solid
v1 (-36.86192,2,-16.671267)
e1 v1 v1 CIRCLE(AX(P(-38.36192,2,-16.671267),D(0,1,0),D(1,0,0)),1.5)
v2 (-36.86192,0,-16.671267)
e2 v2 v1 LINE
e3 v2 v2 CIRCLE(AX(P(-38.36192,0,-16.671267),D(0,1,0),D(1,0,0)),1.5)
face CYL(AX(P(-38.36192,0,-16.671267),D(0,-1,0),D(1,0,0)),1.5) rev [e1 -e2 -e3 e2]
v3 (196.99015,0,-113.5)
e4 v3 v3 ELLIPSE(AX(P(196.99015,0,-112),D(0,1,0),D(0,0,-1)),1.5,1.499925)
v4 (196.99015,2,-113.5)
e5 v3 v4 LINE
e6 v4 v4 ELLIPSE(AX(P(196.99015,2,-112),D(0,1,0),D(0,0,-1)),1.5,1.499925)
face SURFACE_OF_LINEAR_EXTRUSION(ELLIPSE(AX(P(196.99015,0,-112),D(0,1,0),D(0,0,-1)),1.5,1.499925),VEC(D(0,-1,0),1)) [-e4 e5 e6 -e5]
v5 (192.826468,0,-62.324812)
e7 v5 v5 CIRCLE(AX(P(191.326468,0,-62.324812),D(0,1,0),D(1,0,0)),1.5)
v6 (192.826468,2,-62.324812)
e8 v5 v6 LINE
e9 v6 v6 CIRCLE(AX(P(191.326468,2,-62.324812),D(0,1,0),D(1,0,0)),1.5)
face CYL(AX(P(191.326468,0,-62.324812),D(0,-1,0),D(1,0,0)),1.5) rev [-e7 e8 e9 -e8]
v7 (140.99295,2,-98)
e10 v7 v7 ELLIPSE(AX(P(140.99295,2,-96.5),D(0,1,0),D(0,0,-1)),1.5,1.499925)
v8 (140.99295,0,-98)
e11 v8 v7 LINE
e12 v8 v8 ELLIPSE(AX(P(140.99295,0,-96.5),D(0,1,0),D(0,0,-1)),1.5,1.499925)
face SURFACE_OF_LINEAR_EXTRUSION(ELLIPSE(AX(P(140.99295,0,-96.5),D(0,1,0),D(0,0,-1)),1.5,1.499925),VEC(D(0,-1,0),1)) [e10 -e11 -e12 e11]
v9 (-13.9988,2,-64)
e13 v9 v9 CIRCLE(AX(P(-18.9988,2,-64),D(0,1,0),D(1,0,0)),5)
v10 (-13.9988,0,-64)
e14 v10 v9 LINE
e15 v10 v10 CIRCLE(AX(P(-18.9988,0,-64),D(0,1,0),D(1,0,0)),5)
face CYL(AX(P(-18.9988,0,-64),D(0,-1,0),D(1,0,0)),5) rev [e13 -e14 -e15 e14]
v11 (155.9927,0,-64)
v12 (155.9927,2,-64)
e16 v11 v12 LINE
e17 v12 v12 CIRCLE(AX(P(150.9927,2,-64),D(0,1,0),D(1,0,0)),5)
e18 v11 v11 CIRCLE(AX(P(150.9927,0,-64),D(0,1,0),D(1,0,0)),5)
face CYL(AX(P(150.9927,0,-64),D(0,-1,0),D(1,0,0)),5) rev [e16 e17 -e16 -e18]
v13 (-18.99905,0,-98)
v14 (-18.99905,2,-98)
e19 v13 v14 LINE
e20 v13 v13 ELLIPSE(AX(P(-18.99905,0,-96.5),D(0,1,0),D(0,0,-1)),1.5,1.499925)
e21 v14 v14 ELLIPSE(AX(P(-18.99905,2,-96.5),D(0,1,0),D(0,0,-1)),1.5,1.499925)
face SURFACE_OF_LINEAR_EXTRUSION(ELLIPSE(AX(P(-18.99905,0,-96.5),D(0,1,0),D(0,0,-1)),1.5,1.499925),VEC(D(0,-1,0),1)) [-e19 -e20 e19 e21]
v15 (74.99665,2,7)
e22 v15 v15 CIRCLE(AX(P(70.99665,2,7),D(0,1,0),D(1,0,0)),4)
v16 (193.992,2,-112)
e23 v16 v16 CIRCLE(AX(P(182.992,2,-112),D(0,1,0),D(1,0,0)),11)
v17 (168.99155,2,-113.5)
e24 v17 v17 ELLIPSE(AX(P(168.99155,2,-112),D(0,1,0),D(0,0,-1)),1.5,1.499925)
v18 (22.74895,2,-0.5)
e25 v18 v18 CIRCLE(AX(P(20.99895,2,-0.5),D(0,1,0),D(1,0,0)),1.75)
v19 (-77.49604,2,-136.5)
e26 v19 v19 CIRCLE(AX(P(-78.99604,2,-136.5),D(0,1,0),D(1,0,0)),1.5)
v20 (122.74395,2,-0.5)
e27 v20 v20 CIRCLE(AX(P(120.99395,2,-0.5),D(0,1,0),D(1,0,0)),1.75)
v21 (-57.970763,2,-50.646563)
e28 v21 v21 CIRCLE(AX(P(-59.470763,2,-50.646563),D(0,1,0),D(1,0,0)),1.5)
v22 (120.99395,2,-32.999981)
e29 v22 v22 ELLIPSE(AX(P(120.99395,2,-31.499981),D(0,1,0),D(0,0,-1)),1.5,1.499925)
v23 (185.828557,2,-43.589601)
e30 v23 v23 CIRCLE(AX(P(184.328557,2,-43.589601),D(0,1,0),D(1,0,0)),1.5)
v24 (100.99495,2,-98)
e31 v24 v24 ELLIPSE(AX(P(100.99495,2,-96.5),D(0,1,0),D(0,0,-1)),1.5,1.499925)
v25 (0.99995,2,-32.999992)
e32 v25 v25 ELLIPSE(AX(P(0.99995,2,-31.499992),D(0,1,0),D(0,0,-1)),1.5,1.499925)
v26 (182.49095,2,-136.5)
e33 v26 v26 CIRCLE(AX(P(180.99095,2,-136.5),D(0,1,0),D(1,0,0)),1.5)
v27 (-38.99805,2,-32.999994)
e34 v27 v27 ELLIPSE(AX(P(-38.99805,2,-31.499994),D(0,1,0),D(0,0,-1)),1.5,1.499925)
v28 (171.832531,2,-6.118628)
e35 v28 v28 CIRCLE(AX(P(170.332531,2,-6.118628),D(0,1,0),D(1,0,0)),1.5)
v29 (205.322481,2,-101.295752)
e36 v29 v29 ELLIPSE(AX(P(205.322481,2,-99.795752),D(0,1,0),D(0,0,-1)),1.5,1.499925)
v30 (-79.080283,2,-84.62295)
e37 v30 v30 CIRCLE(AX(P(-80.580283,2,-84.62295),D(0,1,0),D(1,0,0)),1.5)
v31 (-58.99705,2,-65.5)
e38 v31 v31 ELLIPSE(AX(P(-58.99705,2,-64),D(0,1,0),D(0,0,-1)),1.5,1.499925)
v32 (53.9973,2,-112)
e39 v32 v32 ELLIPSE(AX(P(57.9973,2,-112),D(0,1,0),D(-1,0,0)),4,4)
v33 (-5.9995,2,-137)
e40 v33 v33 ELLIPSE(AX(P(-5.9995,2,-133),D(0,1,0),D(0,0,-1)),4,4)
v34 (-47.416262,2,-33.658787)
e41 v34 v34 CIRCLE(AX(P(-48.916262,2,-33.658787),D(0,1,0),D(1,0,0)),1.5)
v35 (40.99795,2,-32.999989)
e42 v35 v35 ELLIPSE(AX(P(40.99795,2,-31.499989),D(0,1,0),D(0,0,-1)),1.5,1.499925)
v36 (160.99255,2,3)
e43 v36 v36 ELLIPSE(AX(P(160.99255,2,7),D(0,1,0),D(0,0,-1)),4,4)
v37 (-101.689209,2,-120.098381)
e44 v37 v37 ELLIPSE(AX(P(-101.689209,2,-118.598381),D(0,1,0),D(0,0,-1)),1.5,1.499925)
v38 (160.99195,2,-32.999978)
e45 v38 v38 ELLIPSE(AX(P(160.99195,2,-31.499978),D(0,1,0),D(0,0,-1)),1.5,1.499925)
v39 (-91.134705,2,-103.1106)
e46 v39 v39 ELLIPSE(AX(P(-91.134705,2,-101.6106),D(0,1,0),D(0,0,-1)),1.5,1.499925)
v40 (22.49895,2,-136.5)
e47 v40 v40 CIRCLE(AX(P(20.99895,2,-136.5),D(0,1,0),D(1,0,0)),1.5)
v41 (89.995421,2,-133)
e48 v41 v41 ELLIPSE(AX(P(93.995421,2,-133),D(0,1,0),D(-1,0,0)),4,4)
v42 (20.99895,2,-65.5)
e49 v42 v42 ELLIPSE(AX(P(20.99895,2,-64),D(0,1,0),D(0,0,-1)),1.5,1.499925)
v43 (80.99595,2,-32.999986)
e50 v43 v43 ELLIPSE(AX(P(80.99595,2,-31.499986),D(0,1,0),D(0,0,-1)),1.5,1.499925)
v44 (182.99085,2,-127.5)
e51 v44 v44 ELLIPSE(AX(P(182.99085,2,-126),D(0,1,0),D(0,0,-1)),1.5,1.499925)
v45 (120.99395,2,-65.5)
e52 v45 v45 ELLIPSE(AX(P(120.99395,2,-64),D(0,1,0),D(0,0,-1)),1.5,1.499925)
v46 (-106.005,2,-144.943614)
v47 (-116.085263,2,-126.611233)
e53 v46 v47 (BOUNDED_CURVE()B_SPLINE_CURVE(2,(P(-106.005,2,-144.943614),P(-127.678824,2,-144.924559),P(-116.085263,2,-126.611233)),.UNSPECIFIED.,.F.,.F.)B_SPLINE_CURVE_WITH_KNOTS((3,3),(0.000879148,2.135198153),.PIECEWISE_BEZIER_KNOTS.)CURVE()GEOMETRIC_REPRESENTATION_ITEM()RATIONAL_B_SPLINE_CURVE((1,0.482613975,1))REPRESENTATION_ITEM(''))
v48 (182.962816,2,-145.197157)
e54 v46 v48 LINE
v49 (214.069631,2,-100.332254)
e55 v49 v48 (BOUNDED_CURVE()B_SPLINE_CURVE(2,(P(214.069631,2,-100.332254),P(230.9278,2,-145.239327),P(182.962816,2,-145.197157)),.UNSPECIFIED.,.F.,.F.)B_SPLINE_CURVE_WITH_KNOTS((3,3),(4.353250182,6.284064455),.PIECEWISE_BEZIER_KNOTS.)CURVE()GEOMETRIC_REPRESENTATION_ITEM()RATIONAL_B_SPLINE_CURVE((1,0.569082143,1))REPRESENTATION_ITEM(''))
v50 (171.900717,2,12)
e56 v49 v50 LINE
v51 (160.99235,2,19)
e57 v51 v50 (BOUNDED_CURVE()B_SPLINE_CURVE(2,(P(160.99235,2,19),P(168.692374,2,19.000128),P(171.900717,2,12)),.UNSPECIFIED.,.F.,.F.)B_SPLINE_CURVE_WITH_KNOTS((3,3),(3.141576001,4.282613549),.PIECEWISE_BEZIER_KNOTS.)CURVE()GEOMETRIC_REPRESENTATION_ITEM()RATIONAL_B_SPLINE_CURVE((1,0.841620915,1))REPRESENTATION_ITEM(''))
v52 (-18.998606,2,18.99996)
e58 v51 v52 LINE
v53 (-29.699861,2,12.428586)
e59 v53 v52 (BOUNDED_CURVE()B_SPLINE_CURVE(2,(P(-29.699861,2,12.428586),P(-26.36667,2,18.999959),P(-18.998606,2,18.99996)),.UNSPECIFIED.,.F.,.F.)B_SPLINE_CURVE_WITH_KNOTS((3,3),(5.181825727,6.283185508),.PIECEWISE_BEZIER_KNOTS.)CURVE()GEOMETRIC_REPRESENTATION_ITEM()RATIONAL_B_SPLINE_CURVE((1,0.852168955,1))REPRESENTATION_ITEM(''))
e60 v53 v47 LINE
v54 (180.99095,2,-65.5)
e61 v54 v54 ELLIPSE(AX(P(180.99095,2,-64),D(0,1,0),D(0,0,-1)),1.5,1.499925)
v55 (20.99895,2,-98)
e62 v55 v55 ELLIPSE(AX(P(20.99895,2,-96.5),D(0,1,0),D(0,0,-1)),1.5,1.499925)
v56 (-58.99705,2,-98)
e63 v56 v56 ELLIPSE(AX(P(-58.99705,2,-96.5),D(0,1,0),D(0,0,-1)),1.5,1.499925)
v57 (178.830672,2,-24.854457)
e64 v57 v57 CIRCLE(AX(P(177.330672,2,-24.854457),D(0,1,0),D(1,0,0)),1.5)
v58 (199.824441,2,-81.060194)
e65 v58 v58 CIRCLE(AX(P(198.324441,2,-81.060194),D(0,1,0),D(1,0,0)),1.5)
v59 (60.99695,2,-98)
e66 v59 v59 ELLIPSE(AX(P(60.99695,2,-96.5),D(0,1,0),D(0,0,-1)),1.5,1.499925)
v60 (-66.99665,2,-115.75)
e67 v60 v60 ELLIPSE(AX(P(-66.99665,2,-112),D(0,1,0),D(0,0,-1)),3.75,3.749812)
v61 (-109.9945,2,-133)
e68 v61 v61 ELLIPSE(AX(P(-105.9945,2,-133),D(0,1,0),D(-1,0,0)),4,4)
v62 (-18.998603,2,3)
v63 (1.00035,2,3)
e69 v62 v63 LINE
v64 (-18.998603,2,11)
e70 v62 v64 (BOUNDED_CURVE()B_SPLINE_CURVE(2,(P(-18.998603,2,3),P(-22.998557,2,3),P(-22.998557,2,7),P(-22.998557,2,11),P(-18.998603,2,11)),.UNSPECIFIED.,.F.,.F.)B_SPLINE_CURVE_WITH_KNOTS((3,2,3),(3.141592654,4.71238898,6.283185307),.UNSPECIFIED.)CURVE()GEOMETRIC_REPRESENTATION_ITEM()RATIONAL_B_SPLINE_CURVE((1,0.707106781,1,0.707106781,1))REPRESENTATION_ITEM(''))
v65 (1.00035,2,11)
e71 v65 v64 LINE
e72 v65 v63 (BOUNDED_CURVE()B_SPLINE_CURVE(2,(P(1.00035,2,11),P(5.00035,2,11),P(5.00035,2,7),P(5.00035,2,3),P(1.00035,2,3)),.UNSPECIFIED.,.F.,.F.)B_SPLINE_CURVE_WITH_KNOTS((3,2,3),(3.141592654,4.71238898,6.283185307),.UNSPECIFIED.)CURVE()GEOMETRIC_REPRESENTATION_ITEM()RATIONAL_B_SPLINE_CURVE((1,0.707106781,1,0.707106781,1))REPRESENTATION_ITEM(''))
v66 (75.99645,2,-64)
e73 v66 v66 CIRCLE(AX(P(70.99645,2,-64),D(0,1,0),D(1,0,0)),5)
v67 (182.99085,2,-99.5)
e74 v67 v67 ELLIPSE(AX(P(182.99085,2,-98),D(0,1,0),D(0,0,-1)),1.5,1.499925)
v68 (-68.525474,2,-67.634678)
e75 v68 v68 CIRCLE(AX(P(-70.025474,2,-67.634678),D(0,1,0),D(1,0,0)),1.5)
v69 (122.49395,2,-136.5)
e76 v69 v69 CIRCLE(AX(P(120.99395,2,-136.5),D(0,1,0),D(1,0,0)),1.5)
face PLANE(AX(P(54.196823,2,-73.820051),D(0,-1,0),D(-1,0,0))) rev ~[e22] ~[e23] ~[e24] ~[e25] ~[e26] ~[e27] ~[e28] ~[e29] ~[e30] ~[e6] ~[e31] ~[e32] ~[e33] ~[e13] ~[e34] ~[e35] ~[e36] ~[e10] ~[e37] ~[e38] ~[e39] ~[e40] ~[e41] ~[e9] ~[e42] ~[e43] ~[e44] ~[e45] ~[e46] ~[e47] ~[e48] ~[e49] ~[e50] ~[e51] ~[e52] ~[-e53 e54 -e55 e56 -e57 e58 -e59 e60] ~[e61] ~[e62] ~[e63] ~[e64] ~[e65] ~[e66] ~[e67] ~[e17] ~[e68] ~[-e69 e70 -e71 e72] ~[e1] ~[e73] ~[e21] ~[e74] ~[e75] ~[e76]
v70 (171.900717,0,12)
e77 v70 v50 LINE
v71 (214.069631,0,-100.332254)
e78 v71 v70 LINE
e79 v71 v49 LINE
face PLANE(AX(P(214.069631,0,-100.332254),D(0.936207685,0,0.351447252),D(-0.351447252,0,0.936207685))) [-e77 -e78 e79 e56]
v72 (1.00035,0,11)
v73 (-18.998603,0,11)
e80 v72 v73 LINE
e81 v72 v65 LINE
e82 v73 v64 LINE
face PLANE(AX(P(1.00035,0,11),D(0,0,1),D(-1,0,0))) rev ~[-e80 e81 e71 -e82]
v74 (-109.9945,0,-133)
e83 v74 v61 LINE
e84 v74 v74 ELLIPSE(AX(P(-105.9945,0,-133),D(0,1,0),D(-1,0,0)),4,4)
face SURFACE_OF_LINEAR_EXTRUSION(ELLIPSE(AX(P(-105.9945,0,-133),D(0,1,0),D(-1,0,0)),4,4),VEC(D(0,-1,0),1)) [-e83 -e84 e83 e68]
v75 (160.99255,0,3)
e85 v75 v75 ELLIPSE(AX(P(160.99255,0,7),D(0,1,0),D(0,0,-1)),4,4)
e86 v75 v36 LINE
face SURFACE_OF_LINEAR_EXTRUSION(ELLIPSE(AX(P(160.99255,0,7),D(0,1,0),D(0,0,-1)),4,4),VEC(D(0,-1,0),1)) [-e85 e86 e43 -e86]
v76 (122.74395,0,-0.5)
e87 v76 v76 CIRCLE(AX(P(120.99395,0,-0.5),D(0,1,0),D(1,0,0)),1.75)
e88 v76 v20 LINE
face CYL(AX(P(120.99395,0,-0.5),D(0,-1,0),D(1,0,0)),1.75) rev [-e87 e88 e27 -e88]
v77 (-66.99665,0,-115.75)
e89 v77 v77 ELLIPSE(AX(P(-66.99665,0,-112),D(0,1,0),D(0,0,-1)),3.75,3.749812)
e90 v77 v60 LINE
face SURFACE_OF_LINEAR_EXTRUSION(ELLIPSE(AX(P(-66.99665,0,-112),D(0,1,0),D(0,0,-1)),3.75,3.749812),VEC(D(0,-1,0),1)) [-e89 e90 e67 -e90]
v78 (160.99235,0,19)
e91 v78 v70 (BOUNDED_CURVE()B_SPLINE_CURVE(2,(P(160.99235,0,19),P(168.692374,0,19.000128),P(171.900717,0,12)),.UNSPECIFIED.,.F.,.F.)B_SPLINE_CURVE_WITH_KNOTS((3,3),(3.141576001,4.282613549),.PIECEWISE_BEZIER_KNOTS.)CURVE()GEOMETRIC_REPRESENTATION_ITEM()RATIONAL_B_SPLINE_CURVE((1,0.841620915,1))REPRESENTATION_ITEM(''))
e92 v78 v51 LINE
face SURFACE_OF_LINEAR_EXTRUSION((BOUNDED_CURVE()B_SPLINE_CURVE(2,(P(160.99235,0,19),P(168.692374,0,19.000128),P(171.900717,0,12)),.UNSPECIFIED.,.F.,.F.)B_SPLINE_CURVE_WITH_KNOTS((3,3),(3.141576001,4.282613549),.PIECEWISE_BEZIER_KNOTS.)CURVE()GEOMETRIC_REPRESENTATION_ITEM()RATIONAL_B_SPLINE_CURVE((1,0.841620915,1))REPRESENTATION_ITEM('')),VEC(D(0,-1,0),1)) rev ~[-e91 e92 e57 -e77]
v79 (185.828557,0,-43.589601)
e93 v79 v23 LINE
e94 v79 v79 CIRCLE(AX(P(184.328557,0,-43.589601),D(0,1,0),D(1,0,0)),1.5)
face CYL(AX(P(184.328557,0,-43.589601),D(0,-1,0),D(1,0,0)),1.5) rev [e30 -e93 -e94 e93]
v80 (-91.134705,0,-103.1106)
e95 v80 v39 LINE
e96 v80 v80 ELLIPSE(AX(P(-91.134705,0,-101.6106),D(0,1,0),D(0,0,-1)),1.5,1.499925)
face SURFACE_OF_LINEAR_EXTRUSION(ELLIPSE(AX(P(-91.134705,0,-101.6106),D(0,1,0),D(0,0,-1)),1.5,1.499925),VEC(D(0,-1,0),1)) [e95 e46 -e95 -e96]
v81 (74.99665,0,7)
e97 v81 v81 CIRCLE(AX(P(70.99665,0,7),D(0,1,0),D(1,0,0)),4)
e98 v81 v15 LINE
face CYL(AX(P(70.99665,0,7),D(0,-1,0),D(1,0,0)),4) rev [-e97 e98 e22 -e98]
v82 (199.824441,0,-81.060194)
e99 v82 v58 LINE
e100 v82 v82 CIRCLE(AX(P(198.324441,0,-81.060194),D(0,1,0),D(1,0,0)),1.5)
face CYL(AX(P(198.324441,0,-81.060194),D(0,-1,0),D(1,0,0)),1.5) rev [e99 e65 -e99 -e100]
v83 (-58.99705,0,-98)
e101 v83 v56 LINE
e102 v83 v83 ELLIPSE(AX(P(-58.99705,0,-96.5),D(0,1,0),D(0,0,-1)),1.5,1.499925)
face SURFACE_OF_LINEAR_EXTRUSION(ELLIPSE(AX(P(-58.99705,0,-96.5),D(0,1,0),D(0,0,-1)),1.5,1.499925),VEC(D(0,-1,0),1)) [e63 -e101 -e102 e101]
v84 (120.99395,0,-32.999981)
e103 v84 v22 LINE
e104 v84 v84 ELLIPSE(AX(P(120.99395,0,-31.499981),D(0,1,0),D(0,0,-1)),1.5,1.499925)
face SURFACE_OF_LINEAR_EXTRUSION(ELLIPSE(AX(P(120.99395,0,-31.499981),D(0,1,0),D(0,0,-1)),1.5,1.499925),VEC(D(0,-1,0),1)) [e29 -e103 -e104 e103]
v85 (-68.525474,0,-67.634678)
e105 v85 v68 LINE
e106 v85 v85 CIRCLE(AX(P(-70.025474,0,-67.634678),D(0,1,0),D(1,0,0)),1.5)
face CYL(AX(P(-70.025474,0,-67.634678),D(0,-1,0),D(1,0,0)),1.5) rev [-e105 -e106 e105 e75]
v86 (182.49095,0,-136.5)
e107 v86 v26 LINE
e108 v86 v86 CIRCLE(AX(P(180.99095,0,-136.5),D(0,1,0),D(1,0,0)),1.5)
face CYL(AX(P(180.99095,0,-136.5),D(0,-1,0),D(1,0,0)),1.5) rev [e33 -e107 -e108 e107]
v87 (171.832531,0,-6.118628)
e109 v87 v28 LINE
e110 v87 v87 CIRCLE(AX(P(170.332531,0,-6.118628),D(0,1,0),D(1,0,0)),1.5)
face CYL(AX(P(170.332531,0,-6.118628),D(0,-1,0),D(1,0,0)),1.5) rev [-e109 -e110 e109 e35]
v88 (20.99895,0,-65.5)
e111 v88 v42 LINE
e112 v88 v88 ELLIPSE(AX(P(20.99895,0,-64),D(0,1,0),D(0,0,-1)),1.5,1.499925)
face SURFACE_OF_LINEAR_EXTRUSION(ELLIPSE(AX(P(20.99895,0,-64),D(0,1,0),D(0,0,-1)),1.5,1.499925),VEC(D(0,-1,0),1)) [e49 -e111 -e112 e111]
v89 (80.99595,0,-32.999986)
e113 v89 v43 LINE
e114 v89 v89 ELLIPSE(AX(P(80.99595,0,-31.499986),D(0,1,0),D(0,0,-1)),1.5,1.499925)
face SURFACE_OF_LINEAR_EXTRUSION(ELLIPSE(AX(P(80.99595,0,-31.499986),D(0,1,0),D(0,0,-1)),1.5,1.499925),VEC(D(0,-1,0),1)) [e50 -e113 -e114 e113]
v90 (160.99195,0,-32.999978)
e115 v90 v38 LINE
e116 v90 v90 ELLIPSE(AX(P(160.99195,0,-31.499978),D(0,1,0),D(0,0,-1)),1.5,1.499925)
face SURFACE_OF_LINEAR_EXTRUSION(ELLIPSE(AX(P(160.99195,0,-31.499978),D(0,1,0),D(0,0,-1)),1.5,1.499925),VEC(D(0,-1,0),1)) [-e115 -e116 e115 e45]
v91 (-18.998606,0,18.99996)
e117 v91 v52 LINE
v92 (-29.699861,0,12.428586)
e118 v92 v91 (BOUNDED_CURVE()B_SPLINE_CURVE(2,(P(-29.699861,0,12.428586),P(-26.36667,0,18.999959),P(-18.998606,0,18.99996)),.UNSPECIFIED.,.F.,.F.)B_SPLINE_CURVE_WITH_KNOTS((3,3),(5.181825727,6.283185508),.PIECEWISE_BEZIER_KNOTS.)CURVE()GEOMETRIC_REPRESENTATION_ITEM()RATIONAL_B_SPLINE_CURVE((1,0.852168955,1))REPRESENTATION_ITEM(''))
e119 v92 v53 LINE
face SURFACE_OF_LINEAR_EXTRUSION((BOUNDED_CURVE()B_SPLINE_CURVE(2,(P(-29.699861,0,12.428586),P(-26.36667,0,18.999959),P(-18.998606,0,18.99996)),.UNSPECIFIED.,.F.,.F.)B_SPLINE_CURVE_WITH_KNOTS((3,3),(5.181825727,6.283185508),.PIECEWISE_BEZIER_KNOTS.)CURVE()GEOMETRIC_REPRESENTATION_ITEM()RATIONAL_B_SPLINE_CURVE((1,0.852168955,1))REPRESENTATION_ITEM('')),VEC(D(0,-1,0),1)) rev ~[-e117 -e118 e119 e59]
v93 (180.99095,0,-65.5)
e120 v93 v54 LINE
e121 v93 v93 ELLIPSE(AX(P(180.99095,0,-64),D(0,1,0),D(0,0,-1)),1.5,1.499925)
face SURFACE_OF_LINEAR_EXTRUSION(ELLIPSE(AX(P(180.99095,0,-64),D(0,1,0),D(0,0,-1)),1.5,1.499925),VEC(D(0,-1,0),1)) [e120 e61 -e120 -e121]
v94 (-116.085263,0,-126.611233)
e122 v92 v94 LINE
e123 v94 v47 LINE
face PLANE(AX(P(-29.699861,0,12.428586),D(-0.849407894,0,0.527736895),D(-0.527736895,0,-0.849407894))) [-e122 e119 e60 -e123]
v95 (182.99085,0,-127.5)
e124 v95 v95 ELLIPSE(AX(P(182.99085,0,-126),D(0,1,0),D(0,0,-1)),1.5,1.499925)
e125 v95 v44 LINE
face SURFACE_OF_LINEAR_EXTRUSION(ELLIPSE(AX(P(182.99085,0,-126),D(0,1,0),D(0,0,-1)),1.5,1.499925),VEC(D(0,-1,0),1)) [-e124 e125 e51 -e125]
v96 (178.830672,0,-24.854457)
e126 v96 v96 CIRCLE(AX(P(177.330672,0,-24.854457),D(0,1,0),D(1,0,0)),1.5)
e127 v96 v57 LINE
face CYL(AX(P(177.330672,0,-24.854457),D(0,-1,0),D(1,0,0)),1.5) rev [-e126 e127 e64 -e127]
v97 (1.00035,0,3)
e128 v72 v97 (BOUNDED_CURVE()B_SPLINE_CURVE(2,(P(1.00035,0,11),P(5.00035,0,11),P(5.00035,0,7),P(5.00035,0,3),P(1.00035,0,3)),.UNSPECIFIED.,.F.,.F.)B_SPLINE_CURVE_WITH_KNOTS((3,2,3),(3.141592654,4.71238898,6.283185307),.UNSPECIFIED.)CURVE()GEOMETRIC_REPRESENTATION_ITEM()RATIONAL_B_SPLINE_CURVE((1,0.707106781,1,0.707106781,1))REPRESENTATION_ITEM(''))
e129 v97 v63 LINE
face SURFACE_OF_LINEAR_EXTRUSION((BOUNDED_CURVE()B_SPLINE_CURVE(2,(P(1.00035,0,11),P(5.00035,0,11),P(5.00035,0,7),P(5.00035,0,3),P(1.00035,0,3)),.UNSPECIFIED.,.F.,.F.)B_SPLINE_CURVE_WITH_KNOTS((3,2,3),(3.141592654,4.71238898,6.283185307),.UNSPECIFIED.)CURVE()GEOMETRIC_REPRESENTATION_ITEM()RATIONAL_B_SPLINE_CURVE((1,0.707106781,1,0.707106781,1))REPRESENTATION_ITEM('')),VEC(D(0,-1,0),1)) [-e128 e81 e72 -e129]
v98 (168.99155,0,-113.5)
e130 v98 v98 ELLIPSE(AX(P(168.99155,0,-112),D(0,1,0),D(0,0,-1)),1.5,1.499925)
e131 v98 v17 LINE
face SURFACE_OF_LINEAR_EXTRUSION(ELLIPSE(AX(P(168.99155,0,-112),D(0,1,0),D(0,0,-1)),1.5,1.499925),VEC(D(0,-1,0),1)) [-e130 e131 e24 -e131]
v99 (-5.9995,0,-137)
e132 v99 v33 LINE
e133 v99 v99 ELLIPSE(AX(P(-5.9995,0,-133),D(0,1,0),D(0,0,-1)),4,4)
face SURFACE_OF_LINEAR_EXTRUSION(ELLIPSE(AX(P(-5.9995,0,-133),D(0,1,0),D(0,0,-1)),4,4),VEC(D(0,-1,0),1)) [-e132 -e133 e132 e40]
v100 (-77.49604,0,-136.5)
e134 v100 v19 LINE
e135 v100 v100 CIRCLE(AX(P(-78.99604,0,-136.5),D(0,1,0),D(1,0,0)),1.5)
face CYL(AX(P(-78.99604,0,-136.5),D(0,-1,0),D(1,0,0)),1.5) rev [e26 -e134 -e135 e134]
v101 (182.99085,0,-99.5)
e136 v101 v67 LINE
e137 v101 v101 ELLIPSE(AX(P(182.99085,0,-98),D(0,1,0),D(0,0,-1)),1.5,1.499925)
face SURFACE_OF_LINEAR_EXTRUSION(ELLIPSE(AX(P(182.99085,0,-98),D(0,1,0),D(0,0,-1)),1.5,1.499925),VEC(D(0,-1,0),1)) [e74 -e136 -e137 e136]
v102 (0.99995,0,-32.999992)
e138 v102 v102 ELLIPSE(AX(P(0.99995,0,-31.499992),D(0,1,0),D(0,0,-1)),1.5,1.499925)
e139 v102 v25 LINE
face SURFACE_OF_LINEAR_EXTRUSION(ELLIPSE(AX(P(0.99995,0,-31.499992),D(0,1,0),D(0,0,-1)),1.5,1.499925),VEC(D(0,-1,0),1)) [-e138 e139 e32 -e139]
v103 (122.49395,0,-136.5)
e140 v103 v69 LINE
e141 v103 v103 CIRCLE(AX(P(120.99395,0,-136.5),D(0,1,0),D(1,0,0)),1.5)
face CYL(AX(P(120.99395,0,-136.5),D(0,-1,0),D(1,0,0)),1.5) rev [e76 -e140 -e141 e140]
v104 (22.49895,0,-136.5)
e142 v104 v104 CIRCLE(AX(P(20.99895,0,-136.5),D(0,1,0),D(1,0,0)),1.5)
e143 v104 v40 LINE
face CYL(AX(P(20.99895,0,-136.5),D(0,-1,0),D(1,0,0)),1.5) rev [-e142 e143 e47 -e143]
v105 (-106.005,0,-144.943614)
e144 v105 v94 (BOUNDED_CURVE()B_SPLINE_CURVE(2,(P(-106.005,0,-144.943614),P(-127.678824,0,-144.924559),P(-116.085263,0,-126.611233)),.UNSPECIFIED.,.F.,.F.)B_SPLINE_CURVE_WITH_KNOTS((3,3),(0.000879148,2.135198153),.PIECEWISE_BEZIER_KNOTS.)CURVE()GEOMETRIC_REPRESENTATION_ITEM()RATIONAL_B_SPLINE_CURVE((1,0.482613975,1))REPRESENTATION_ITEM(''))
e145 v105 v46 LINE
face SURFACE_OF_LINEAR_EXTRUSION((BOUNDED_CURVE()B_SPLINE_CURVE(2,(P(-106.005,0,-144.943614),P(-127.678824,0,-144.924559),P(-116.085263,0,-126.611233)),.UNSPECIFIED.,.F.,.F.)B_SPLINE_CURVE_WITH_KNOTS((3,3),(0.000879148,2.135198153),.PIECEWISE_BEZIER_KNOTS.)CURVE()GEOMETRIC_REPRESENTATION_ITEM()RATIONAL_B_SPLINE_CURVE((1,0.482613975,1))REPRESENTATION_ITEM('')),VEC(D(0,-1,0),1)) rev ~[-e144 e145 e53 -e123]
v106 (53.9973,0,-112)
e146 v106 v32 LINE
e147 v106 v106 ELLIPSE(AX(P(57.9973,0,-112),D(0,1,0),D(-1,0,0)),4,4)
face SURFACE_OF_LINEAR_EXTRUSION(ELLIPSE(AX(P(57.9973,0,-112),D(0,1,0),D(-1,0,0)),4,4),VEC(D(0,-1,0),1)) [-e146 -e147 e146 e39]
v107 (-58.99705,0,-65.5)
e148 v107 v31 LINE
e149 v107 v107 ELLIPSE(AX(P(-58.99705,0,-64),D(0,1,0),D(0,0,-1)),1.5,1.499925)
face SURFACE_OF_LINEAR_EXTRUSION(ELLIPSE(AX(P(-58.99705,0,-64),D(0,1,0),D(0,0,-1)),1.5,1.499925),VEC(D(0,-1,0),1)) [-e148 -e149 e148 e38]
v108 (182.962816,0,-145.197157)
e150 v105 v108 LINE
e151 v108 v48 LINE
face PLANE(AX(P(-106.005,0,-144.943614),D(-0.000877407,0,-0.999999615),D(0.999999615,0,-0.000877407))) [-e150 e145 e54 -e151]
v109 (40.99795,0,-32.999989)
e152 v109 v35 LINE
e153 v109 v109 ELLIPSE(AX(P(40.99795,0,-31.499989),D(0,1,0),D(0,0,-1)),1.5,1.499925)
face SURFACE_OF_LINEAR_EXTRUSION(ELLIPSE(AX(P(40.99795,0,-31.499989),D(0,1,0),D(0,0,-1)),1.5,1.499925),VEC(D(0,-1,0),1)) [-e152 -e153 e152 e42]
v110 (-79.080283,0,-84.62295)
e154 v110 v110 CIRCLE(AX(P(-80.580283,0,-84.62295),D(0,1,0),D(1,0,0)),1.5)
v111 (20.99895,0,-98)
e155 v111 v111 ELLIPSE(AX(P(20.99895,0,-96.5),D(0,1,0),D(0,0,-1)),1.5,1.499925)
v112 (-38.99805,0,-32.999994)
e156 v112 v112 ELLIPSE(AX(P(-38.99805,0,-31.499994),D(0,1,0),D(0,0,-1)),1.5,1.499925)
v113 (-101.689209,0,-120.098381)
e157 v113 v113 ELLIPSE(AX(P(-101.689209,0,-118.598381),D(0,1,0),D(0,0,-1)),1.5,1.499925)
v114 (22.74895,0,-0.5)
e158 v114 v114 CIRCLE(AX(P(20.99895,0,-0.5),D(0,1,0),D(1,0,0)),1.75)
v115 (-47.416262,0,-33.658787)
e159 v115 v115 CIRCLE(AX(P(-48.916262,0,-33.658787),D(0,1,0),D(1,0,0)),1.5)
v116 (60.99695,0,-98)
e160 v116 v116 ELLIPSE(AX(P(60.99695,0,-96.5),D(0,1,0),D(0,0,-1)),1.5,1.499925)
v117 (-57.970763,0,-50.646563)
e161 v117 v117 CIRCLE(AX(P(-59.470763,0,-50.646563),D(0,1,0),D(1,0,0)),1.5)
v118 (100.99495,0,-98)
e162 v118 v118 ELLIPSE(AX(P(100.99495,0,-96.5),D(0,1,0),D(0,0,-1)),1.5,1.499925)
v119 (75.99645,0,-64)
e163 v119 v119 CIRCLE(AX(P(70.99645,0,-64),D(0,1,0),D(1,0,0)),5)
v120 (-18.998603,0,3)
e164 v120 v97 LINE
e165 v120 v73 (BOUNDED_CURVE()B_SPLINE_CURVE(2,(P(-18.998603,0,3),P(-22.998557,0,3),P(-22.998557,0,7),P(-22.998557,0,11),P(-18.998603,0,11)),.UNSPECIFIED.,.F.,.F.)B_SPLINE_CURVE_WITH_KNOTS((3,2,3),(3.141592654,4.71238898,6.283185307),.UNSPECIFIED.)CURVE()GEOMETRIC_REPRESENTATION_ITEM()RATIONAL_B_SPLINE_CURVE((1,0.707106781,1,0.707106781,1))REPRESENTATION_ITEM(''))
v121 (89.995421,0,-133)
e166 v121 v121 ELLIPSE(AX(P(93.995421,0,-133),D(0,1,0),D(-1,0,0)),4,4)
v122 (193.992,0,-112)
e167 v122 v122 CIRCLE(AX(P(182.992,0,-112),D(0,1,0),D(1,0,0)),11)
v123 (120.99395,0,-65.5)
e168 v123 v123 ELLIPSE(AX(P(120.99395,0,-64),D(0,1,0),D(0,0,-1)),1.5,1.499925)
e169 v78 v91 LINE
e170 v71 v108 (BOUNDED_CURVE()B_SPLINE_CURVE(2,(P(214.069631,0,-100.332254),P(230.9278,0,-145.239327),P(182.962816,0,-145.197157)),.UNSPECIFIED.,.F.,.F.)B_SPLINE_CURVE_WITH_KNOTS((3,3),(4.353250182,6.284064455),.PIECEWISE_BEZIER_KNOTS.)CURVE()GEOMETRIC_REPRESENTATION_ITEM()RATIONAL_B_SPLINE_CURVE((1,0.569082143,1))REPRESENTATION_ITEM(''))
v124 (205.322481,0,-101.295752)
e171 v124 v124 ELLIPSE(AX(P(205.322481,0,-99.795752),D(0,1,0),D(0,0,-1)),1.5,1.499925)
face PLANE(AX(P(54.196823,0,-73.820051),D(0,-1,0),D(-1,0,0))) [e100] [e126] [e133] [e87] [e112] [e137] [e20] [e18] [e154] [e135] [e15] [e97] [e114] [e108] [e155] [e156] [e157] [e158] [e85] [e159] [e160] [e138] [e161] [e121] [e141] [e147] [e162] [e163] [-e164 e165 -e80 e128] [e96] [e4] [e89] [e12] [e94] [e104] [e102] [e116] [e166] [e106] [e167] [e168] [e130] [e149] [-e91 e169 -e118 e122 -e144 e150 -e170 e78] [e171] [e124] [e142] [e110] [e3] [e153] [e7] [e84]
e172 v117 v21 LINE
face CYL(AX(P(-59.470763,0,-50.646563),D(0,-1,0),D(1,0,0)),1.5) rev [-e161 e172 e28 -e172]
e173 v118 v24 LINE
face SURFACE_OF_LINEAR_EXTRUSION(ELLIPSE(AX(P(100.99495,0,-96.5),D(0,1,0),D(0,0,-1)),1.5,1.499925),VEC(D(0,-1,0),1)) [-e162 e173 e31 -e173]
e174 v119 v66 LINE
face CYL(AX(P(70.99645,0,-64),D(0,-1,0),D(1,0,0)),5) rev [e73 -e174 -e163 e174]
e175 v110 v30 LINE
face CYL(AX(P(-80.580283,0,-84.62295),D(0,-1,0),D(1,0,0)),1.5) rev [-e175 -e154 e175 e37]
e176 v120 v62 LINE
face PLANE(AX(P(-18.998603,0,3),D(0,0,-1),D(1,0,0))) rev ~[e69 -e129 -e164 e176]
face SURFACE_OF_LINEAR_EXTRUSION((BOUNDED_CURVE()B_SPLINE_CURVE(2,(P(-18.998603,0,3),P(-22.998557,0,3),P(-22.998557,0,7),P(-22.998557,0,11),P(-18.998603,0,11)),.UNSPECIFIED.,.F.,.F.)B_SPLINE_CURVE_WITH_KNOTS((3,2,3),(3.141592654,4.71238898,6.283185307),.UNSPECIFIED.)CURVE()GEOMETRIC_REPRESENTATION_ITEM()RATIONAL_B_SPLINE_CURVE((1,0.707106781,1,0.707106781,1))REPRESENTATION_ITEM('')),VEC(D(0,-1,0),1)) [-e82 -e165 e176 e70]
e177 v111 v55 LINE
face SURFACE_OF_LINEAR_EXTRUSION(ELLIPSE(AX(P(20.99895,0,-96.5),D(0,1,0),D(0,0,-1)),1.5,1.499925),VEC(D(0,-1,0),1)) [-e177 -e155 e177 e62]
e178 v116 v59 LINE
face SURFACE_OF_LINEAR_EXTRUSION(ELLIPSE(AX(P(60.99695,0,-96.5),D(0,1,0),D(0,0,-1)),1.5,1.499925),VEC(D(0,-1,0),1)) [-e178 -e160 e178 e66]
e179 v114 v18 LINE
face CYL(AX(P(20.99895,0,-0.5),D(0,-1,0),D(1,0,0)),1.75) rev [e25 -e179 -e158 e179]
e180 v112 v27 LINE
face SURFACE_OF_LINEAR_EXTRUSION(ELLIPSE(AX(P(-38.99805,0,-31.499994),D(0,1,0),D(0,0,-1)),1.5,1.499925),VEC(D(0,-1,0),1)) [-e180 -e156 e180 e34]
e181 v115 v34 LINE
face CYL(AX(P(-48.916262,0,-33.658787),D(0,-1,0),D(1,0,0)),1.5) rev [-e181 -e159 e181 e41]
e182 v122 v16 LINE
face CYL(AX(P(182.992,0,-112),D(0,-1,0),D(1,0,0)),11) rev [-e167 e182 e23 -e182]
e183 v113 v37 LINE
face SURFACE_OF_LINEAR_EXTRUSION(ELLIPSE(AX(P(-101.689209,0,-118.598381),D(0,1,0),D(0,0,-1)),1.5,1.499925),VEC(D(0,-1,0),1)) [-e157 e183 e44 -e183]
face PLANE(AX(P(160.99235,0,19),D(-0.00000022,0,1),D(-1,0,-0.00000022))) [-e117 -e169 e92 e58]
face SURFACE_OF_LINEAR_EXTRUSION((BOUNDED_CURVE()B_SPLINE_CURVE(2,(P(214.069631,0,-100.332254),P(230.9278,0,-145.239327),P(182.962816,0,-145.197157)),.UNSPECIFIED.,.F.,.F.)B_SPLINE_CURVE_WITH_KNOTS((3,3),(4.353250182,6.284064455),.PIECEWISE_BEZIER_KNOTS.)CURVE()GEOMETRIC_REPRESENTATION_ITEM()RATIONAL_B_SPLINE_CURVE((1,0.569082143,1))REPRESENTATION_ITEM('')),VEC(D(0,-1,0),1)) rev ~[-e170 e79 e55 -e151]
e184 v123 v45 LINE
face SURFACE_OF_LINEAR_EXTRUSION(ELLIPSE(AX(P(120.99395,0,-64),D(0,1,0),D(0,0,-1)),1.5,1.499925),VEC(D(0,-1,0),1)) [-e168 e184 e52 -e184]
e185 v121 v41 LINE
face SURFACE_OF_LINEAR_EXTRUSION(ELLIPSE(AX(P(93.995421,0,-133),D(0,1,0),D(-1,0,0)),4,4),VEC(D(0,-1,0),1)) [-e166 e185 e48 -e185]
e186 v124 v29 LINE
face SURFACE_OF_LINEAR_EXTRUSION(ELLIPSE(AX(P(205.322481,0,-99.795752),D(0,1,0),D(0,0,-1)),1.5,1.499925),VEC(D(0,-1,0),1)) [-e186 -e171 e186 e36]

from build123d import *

# Parameters (mm, degrees)
SKETCH2_R           = 11
SKETCH2_R_2         = 5
SKETCH2_R_3         = 1.5
SKETCH2_R_4         = 4
SKETCH2_R_5         = 1.75
SKETCH2_RX          = 4
SKETCH2_RY          = 4
SKETCH2_RX_2        = 1.5
SKETCH2_RY_2        = 1.499925
SKETCH2_RX_3        = 3.75
SKETCH2_RY_3        = 3.7498125
BOSS_EXTRUDE1_DEPTH = 2


with BuildPart() as part:
    # Sketch2 → Boss-Extrude1 (new body)
    with BuildSketch(Plane(origin=(0, 0, 0), x_dir=(1, 0, 0), z_dir=(0, 1, 0))):
        with BuildLine():
            Line((-106.00499968, 144.943614194), (182.962816245, 145.197156615))
            add(Edge.make_bspline(
                [(214.069631291, 100.332253712), (230.927799732, 145.239327045), (182.962816245, 145.197156615)],
                knots=[4.353250182, 4.353250182, 4.353250182, 6.284064455, 6.284064455, 6.284064455], degree=2, weights=[1, 0.569082143, 1]))
            Line((214.069631291, 100.332253712), (171.90071668, -12.000000001))
            add(Edge.make_bspline(
                [(160.992350179, -19), (168.692373591, -19.000128232), (171.90071668, -12.000000001)],
                knots=[3.141576001, 3.141576001, 3.141576001, 4.282613549, 4.282613549, 4.282613549], degree=2, weights=[1, 0.841620915, 1]))
            Line((160.992350179, -19), (-18.998606102, -18.99996049))
            add(Edge.make_bspline(
                [(-29.699861268, -12.428586042), (-26.366669696, -18.999958873), (-18.998606102, -18.99996049)],
                knots=[5.181825727, 5.181825727, 5.181825727, 6.283185508, 6.283185508, 6.283185508], degree=2, weights=[1, 0.852168955, 1]))
            Line((-29.699861268, -12.428586042), (-116.08526313, 126.611232779))
            add(Edge.make_bspline(
                [(-106.00499968, 144.943614194), (-127.678824036, 144.924558741), (-116.08526313, 126.611232779)],
                knots=[0.000879148, 0.000879148, 0.000879148, 2.135198153, 2.135198153, 2.135198153], degree=2, weights=[1, 0.482613975, 1]))
        make_face()
        with Locations((182.992000002, 111.999999999)):
            Circle(SKETCH2_R, mode=Mode.SUBTRACT)
        with Locations((-18.9988, 64)):
            Circle(SKETCH2_R_2, mode=Mode.SUBTRACT)
        with Locations((70.99645, 64)):
            Circle(SKETCH2_R_2, mode=Mode.SUBTRACT)
        with Locations((150.9927, 64)):
            Circle(SKETCH2_R_2, mode=Mode.SUBTRACT)
        with Locations((-78.996040132, 136.5)):
            Circle(SKETCH2_R_3, mode=Mode.SUBTRACT)
        with Locations((20.99895, 136.5)):
            Circle(SKETCH2_R_3, mode=Mode.SUBTRACT)
        with Locations((120.99395, 136.5)):
            Circle(SKETCH2_R_3, mode=Mode.SUBTRACT)
        with Locations((180.99095, 136.5)):
            Circle(SKETCH2_R_3, mode=Mode.SUBTRACT)
        with Locations((170.332531489, 6.118627774)):
            Circle(SKETCH2_R_3, mode=Mode.SUBTRACT)
        with Locations((177.330672341, 24.854456596)):
            Circle(SKETCH2_R_3, mode=Mode.SUBTRACT)
        with Locations((184.328557385, 43.589600555)):
            Circle(SKETCH2_R_3, mode=Mode.SUBTRACT)
        with Locations((191.32646769, 62.324812144)):
            Circle(SKETCH2_R_3, mode=Mode.SUBTRACT)
        with Locations((198.324441471, 81.060193672)):
            Circle(SKETCH2_R_3, mode=Mode.SUBTRACT)
        with Locations((-38.361920415, 16.671266638)):
            Circle(SKETCH2_R_3, mode=Mode.SUBTRACT)
        with Locations((-48.916261932, 33.658786529)):
            Circle(SKETCH2_R_3, mode=Mode.SUBTRACT)
        with Locations((-59.470762984, 50.646563195)):
            Circle(SKETCH2_R_3, mode=Mode.SUBTRACT)
        with Locations((-70.02547384, 67.634677545)):
            Circle(SKETCH2_R_3, mode=Mode.SUBTRACT)
        with Locations((-80.580283096, 84.622950275)):
            Circle(SKETCH2_R_3, mode=Mode.SUBTRACT)
        with Locations((70.99665, -7)):
            Circle(SKETCH2_R_4, mode=Mode.SUBTRACT)
        with Locations((120.99395, 0.5)):
            Circle(SKETCH2_R_5, mode=Mode.SUBTRACT)
        with Locations((20.99895, 0.5)):
            Circle(SKETCH2_R_5, mode=Mode.SUBTRACT)
        with Locations(Location((-105.9945, 133), (0, 0, 180))):
            Ellipse(SKETCH2_RX, SKETCH2_RY, mode=Mode.SUBTRACT)
        with Locations(Location((160.99255, -7), (0, 0, 90))):
            Ellipse(SKETCH2_RX, SKETCH2_RY, mode=Mode.SUBTRACT)
        with Locations(Location((182.99085, 126), (0, 0, 90))):
            Ellipse(SKETCH2_RX_2, SKETCH2_RY_2, mode=Mode.SUBTRACT)
        with Locations(Location((196.99015, 112), (0, 0, 90))):
            Ellipse(SKETCH2_RX_2, SKETCH2_RY_2, mode=Mode.SUBTRACT)
        with Locations(Location((168.99155, 112), (0, 0, 90))):
            Ellipse(SKETCH2_RX_2, SKETCH2_RY_2, mode=Mode.SUBTRACT)
        with Locations(Location((182.99085, 98), (0, 0, 90))):
            Ellipse(SKETCH2_RX_2, SKETCH2_RY_2, mode=Mode.SUBTRACT)
        with Locations(Location((120.99395, 64), (0, 0, 90))):
            Ellipse(SKETCH2_RX_2, SKETCH2_RY_2, mode=Mode.SUBTRACT)
        with Locations(Location((20.99895, 64), (0, 0, 90))):
            Ellipse(SKETCH2_RX_2, SKETCH2_RY_2, mode=Mode.SUBTRACT)
        with Locations(Location((-58.99705, 64), (0, 0, 90))):
            Ellipse(SKETCH2_RX_2, SKETCH2_RY_2, mode=Mode.SUBTRACT)
        with Locations(Location((180.99095, 64), (0, 0, 90))):
            Ellipse(SKETCH2_RX_2, SKETCH2_RY_2, mode=Mode.SUBTRACT)
        with Locations(Location((60.99695, 96.5), (0, 0, 90))):
            Ellipse(SKETCH2_RX_2, SKETCH2_RY_2, mode=Mode.SUBTRACT)
        with Locations(Location((140.99295, 96.5), (0, 0, 90))):
            Ellipse(SKETCH2_RX_2, SKETCH2_RY_2, mode=Mode.SUBTRACT)
        with Locations(Location((160.99195, 31.499978192), (0, 0, 90))):
            Ellipse(SKETCH2_RX_2, SKETCH2_RY_2, mode=Mode.SUBTRACT)
        with Locations(Location((80.99595, 31.499985778), (0, 0, 90))):
            Ellipse(SKETCH2_RX_2, SKETCH2_RY_2, mode=Mode.SUBTRACT)
        with Locations(Location((-18.99905, 96.5), (0, 0, 90))):
            Ellipse(SKETCH2_RX_2, SKETCH2_RY_2, mode=Mode.SUBTRACT)
        with Locations(Location((-38.99805, 31.499994311), (0, 0, 90))):
            Ellipse(SKETCH2_RX_2, SKETCH2_RY_2, mode=Mode.SUBTRACT)
        with Locations(Location((-101.689209002, 118.598380963), (0, 0, 90))):
            Ellipse(SKETCH2_RX_2, SKETCH2_RY_2, mode=Mode.SUBTRACT)
        with Locations(Location((-91.134705429, 101.610600241), (0, 0, 90))):
            Ellipse(SKETCH2_RX_2, SKETCH2_RY_2, mode=Mode.SUBTRACT)
        with Locations(Location((205.322481122, 99.795751553), (0, 0, 90))):
            Ellipse(SKETCH2_RX_2, SKETCH2_RY_2, mode=Mode.SUBTRACT)
        with Locations(Location((20.99895, 96.5), (0, 0, 90))):
            Ellipse(SKETCH2_RX_2, SKETCH2_RY_2, mode=Mode.SUBTRACT)
        with Locations(Location((100.99495, 96.5), (0, 0, 90))):
            Ellipse(SKETCH2_RX_2, SKETCH2_RY_2, mode=Mode.SUBTRACT)
        with Locations(Location((-58.99705, 96.5), (0, 0, 90))):
            Ellipse(SKETCH2_RX_2, SKETCH2_RY_2, mode=Mode.SUBTRACT)
        with Locations(Location((0.99995, 31.499992415), (0, 0, 90))):
            Ellipse(SKETCH2_RX_2, SKETCH2_RY_2, mode=Mode.SUBTRACT)
        with Locations(Location((40.99795, 31.499988622), (0, 0, 90))):
            Ellipse(SKETCH2_RX_2, SKETCH2_RY_2, mode=Mode.SUBTRACT)
        with Locations(Location((120.99395, 31.499981037), (0, 0, 90))):
            Ellipse(SKETCH2_RX_2, SKETCH2_RY_2, mode=Mode.SUBTRACT)
        with Locations(Location((-66.99665, 112), (0, 0, 90))):
            Ellipse(SKETCH2_RX_3, SKETCH2_RY_3, mode=Mode.SUBTRACT)
        with Locations(Location((57.9973, 112), (0, 0, 180))):
            Ellipse(SKETCH2_RX, SKETCH2_RY, mode=Mode.SUBTRACT)
        with Locations(Location((-5.9995, 133), (0, 0, 90))):
            Ellipse(SKETCH2_RX, SKETCH2_RY, mode=Mode.SUBTRACT)
        with Locations(Location((93.995420809, 133), (0, 0, 180))):
            Ellipse(SKETCH2_RX, SKETCH2_RY, mode=Mode.SUBTRACT)
        with BuildLine():
            Line((-18.998603467, -3), (1.00035, -3))
            add(Edge.make_bspline(
                [(1.00035, -11), (5.00035, -11), (5.00035, -7), (5.00035, -3), (1.00035, -3)],
                knots=[3.141592654, 3.141592654, 3.141592654, 4.71238898, 4.71238898, 6.283185307, 6.283185307, 6.283185307], degree=2, weights=[1, 0.707106781, 1, 0.707106781, 1]))
            Line((1.00035, -11), (-18.998603467, -11))
            add(Edge.make_bspline(
                [(-18.998603467, -3), (-22.998556935, -3), (-22.998556935, -7), (-22.998556935, -11), (-18.998603467, -11)],
                knots=[3.141592654, 3.141592654, 3.141592654, 4.71238898, 4.71238898, 6.283185307, 6.283185307, 6.283185307], degree=2, weights=[1, 0.707106781, 1, 0.707106781, 1]))
        make_face(mode=Mode.SUBTRACT)
    extrude(amount=BOSS_EXTRUDE1_DEPTH)


solid = part.part
